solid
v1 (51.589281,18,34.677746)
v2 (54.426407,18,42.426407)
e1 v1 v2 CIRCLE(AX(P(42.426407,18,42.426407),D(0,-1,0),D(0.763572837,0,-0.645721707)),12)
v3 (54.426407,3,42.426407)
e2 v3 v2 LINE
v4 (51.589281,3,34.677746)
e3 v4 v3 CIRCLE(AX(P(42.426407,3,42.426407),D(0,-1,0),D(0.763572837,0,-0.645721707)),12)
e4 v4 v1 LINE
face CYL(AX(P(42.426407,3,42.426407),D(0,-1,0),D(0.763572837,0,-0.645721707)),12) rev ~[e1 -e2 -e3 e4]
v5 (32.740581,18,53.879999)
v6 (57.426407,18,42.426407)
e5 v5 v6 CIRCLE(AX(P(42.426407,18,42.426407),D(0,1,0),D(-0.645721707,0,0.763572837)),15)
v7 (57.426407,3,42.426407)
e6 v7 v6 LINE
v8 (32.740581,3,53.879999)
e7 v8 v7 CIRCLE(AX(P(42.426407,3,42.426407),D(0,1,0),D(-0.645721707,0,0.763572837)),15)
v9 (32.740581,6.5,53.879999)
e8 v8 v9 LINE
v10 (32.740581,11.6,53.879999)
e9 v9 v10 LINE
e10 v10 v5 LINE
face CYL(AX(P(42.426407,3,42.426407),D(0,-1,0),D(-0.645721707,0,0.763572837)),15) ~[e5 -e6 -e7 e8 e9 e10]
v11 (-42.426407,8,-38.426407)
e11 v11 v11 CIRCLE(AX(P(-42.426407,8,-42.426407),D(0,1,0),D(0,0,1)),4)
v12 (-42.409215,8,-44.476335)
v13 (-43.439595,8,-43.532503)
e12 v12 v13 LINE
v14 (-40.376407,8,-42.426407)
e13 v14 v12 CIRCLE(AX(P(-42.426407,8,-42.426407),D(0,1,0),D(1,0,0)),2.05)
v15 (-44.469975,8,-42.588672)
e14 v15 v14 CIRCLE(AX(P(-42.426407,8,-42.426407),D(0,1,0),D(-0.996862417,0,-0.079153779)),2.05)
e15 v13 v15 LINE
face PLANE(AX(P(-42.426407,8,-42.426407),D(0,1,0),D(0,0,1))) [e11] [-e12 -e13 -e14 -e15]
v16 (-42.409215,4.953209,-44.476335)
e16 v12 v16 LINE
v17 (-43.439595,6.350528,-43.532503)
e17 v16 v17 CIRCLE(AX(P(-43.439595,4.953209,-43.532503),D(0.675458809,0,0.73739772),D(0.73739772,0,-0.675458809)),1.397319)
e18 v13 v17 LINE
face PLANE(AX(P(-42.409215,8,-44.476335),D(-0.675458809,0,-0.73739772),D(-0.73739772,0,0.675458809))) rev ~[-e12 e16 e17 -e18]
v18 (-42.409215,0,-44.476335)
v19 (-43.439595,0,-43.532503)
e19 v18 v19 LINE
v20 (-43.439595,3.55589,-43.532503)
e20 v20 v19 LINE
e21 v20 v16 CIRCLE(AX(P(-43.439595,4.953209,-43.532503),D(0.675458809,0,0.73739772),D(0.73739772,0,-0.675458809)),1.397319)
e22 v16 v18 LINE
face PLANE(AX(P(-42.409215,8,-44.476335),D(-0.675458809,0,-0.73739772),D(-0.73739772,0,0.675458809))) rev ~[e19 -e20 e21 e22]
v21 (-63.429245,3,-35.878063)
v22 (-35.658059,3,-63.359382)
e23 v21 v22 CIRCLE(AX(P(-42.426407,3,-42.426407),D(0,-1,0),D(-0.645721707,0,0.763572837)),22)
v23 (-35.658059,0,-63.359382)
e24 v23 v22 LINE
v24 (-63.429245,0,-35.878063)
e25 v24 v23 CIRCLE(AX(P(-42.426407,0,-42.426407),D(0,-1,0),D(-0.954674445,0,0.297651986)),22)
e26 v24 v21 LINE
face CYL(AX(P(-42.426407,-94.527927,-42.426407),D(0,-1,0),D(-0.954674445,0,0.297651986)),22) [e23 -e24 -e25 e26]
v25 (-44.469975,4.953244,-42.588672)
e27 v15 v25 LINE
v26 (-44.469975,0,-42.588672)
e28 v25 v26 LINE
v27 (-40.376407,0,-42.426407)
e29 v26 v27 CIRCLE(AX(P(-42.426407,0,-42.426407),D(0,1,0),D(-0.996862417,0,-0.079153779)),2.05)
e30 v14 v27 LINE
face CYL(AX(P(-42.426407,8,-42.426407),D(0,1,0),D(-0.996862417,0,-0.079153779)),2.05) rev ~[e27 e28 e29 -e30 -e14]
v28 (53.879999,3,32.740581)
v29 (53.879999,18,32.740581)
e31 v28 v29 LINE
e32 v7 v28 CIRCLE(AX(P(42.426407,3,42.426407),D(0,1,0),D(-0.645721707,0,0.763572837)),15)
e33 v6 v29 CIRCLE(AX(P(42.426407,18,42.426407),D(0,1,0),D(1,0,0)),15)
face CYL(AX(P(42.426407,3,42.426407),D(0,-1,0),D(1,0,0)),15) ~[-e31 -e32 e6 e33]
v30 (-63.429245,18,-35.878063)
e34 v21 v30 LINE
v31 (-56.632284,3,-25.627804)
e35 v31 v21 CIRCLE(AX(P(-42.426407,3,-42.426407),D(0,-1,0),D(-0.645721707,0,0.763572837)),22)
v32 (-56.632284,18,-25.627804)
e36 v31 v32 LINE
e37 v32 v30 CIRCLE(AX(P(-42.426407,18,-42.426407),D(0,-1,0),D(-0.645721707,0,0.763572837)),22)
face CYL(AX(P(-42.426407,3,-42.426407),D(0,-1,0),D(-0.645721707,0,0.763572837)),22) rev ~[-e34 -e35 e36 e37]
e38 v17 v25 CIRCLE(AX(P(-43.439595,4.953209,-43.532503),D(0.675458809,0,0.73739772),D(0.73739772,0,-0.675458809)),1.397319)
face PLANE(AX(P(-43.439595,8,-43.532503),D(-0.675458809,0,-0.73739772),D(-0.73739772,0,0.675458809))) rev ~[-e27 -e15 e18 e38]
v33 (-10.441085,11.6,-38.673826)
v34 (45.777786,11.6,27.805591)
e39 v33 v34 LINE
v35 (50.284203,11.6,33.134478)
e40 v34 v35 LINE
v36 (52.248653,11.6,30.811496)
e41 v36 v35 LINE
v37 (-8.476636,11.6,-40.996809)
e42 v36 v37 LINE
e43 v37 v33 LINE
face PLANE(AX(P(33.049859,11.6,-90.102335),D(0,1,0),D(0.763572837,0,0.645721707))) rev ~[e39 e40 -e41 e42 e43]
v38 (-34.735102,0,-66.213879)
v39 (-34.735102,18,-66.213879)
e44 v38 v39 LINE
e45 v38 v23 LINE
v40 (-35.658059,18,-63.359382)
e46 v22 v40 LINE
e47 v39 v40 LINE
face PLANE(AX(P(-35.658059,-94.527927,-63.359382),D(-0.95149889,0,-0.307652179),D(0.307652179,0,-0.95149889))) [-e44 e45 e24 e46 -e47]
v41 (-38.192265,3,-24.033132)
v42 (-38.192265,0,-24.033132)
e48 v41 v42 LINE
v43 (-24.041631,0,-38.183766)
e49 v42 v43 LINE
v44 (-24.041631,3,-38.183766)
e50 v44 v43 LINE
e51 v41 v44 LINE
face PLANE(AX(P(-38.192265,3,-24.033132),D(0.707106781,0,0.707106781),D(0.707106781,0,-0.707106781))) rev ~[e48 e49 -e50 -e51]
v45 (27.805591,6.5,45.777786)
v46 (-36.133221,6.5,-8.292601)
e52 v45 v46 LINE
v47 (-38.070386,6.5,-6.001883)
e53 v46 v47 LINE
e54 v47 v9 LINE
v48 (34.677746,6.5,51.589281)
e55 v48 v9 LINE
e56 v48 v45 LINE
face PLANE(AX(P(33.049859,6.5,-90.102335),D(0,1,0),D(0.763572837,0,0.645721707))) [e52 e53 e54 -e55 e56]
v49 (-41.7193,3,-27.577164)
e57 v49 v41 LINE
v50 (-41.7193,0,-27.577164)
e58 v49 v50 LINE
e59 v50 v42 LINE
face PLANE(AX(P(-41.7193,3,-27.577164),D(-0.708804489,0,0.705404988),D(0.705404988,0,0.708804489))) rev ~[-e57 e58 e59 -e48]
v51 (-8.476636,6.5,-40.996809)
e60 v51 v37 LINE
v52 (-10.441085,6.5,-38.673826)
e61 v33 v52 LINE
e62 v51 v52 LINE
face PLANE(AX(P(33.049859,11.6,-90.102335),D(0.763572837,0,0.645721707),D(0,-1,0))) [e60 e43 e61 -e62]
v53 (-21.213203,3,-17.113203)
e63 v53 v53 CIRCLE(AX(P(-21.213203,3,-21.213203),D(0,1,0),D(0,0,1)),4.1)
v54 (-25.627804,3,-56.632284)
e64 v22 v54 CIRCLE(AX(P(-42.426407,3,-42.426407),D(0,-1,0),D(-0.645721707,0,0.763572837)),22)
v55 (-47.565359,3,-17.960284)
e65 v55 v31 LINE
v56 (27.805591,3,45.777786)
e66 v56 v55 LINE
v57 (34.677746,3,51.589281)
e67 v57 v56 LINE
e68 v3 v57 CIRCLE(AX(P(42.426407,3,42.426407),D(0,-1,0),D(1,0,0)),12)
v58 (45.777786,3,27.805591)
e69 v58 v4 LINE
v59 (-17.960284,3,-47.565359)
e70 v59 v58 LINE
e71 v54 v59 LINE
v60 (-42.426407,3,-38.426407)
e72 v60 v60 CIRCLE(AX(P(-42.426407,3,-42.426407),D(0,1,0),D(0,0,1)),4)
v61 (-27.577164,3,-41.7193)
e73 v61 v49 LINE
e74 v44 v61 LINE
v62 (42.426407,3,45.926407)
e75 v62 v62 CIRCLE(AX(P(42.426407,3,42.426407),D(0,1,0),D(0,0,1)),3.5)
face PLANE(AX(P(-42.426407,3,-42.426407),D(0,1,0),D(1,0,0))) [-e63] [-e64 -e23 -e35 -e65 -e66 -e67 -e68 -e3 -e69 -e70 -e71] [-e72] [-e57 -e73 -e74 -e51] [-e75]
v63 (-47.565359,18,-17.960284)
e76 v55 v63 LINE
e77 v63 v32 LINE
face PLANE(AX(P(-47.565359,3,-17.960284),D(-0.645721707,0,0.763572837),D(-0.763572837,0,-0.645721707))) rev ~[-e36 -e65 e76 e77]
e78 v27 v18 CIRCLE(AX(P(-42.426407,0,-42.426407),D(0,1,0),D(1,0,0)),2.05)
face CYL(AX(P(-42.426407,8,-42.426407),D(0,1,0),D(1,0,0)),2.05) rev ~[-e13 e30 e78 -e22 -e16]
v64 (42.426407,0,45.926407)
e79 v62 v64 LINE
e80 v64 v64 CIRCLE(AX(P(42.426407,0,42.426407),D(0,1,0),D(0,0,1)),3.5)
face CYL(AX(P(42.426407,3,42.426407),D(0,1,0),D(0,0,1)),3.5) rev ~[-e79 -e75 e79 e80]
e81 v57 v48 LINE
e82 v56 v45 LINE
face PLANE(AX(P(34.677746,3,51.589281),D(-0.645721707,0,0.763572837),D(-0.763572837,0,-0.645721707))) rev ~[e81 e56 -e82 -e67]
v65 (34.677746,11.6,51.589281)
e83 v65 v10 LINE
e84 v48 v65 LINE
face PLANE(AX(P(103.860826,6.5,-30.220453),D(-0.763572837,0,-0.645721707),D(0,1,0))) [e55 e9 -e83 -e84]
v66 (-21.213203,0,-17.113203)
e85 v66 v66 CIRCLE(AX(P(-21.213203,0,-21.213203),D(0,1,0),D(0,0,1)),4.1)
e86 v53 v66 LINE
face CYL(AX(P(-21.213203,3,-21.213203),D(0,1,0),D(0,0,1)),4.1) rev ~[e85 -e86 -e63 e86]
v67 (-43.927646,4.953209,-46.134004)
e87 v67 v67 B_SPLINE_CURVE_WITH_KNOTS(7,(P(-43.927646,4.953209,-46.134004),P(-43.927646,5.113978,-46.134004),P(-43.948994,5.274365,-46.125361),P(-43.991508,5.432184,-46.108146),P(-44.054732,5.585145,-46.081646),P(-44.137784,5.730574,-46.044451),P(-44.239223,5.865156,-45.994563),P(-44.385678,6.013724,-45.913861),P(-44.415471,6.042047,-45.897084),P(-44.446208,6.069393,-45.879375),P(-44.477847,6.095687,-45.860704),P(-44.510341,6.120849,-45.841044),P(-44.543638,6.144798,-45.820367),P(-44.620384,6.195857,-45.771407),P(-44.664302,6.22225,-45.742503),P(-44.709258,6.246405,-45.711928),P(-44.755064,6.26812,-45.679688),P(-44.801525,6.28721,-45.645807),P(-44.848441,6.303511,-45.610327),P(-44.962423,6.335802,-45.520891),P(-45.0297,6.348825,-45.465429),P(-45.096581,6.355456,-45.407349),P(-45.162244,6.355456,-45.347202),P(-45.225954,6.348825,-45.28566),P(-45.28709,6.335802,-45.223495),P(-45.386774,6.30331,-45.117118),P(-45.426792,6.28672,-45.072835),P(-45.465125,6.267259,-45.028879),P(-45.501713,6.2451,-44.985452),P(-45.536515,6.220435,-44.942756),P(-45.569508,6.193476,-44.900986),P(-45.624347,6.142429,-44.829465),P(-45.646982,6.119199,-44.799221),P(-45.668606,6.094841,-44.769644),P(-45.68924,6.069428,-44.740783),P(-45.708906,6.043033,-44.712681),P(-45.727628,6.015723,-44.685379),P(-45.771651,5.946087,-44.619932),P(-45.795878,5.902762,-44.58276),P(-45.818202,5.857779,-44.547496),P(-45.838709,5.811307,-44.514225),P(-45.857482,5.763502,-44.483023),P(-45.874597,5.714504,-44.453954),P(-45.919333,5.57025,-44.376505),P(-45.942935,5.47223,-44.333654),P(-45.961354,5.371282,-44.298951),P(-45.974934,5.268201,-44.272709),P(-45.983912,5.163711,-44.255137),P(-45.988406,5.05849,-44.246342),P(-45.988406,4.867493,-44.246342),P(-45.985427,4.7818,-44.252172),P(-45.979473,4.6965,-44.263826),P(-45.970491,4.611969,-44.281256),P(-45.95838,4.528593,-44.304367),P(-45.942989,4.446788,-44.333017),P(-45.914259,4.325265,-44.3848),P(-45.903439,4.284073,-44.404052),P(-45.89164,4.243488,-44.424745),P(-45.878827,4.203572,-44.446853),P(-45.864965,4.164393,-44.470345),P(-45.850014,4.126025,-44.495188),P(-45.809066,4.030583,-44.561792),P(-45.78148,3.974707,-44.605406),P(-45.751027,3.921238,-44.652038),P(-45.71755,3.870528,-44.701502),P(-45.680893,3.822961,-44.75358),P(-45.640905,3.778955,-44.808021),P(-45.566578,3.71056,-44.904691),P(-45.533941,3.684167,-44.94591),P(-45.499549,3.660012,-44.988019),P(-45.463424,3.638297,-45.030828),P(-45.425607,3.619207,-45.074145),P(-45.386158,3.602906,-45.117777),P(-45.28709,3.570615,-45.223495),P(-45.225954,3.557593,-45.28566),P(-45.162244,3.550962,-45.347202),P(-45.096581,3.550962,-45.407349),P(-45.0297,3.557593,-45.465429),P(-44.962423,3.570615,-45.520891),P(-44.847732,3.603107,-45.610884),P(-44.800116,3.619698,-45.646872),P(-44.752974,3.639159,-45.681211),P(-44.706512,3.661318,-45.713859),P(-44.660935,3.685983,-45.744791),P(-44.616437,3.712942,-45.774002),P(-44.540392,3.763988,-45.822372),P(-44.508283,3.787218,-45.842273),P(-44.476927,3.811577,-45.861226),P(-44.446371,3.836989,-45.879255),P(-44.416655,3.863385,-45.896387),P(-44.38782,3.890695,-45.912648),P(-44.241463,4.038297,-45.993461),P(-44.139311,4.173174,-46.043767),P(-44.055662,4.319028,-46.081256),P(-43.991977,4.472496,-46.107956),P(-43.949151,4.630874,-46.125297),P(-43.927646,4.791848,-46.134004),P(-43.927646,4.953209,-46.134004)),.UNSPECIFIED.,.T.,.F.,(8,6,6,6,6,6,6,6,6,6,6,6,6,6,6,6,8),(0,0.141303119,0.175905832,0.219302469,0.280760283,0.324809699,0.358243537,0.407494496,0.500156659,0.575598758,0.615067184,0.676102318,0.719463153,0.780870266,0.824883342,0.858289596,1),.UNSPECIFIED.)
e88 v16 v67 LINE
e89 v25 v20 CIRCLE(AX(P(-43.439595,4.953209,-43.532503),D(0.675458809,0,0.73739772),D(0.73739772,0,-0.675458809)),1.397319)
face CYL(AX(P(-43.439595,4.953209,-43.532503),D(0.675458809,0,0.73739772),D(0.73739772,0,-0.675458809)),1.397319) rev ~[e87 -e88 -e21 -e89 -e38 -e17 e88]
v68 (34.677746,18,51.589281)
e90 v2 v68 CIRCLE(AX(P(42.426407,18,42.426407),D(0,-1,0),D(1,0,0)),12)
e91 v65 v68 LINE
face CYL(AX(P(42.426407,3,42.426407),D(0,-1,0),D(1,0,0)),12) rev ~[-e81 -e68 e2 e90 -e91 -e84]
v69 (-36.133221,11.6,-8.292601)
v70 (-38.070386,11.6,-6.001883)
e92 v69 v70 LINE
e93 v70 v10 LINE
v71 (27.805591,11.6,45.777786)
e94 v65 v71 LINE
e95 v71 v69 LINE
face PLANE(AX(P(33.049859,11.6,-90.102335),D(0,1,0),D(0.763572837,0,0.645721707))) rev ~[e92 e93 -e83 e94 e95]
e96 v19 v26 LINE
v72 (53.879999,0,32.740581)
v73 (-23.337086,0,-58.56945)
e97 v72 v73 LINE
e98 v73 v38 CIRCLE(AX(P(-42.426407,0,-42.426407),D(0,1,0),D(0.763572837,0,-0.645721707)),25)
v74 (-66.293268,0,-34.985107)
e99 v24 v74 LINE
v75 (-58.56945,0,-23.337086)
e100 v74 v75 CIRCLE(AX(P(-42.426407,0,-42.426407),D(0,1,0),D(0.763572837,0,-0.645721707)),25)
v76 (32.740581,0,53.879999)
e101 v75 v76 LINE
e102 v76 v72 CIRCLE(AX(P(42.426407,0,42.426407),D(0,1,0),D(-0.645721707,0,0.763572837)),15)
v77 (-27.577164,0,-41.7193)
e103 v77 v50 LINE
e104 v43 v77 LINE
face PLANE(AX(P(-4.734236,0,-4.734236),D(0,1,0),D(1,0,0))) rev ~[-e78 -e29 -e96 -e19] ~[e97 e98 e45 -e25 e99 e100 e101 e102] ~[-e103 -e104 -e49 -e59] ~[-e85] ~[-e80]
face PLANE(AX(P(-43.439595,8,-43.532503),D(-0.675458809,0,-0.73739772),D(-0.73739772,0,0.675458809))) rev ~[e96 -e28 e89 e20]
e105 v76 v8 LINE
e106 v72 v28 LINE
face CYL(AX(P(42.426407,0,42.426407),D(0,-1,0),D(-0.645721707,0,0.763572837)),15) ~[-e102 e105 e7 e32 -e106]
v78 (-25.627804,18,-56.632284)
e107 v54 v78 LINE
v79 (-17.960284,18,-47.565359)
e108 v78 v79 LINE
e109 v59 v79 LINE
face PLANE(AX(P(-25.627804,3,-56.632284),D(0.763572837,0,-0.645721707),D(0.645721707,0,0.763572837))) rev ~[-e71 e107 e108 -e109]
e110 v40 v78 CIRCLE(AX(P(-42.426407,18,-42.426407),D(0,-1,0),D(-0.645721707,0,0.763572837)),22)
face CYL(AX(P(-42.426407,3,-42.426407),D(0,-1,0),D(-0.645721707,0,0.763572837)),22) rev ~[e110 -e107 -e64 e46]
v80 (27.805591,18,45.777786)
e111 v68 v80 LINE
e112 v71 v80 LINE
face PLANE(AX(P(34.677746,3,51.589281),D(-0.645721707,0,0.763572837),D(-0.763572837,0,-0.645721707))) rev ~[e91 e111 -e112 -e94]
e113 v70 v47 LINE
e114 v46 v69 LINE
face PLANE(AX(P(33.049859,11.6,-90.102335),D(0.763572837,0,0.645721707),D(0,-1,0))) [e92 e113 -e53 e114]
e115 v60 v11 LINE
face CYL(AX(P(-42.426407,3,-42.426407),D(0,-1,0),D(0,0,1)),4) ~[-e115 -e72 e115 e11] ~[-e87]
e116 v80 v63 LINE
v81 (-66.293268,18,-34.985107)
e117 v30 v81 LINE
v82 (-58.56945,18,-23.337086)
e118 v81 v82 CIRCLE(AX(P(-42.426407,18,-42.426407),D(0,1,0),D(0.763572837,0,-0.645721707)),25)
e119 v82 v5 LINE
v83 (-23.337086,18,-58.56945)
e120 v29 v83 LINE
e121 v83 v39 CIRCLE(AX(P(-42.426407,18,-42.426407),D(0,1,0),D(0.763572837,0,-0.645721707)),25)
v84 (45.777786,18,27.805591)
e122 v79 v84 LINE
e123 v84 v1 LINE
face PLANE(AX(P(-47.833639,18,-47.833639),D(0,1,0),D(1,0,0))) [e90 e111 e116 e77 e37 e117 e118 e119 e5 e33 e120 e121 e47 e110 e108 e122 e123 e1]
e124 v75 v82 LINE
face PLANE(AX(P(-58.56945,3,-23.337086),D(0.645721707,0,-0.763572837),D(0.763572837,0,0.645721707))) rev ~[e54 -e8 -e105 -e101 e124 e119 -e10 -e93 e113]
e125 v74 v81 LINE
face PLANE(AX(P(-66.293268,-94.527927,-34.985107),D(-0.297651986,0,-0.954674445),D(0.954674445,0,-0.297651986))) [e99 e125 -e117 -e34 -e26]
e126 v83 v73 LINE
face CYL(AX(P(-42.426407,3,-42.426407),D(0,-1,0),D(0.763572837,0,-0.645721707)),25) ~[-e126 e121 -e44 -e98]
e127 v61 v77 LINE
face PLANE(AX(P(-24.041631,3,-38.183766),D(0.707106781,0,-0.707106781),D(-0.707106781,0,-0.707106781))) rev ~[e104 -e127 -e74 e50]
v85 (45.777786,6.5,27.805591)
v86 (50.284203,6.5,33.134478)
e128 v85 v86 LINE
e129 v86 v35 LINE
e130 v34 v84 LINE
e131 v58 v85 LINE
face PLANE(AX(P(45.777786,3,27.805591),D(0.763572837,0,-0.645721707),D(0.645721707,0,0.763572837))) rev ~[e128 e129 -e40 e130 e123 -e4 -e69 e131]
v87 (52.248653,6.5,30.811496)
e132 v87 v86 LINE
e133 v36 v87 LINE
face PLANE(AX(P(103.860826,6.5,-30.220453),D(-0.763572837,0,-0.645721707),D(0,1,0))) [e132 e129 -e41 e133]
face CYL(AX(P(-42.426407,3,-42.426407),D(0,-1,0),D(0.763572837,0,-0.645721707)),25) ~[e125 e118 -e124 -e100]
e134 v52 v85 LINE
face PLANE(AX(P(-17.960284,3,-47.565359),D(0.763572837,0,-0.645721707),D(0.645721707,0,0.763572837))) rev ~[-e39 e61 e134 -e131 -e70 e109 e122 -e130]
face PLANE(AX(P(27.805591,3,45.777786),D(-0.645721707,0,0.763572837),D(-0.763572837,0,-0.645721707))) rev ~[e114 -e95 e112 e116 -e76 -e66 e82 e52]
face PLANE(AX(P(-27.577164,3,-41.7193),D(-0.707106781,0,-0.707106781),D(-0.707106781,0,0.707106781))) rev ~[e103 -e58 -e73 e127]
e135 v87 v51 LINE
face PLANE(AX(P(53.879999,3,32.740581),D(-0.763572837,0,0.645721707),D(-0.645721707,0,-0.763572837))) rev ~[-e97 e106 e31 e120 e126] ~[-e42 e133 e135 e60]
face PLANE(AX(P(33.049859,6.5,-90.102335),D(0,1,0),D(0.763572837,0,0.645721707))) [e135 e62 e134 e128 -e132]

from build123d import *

# Parameters (mm, degrees)
EXTRUDE_2_DEPTH           = 3
SKETCH_4_R                = 2.25
SKETCH_4_R_2              = 2.5
CUT_EXTRUDE_2_DEPTH       = 96.402519291
SKETCH_6_R                = 3.5
CUT_EXTRUDE_3_DEPTH       = 96.402519291
SKETCH_7_R                = 3.5
CUT_EXTRUDE_4_DEPTH       = 96.402519291
CUT_EXTRUDE_5_DEPTH       = 96.402519291
EXTRUDE_4_DEPTH           = 15
EXTRUDE_5_DEPTH           = 3
SKETCH_11_R               = 4.1
CUT_EXTRUDE_6_DEPTH       = 3
SKETCH_13_R               = 3.5
EXTRUDE_6_DEPTH           = 3
SKETCH_14_R               = 2.05
EXTRUDE_7_DEPTH           = 5
EXTRUDE_START             = -5
SKETCH_15_R               = 4
SKETCH_15_R_2             = 2.05
EXTRUDE_8_DEPTH           = 5
CUT_EXTRUDE_7_DEPTH       = 96.878259721
SKETCH_18_R               = 1.397318861
CUT_EXTRUDE_8_DEPTH       = 144.753442506
CUT_EXTRUDE_9_DEPTH       = 97.527927136
CUT_EXTRUDE_9_DEPTH_BACK  = 97.527927136
CUT_EXTRUDE_11_DEPTH      = 110.140706759
CUT_EXTRUDE_11_DEPTH_BACK = 110.140706759
SKETCH_20_W               = 92.736362136
SKETCH_20_H               = 2.6
SKETCH_20_H_2             = 2.5
CUT_EXTRUDE_12_DEPTH      = 5


with BuildPart() as part:
    # 草图2 → 凸台-拉伸2 (new body)
    with BuildSketch(Plane(origin=(0, 0, 0), x_dir=(1, 0, 0), z_dir=(0, 1, 0))):
        with BuildLine():
            Line((-58.569449541, 23.337085947), (32.740581269, -53.879999426))
            ThreePointArc((32.740581269, -53.879999426), (53.033008589, -53.033008589), (53.879999426, -32.740581269))
            Line((53.879999426, -32.740581269), (-23.337085947, 58.569449541))
            ThreePointArc((-23.337085947, 58.569449541), (-60.104076401, 60.104076401), (-58.569449541, 23.337085947))
        make_face()
    extrude(amount=EXTRUDE_2_DEPTH)

    # 草图4 → 切除-拉伸2 (cut, through all)
    with BuildSketch(Plane(origin=(0, 3, 0), x_dir=(1, 0, 0), z_dir=(0, 1, 0))):
        with Locations(Location((-42.426406871, 42.426406871, 0), (0, 0, 270))):
            Circle(SKETCH_4_R)
        with Locations(Location((42.426406871, -42.426406871, 0), (0, 0, 270))):
            Circle(SKETCH_4_R_2)
    extrude(amount=-CUT_EXTRUDE_2_DEPTH, mode=Mode.SUBTRACT)

    # 草图6 → 切除-拉伸3 (cut, through all)
    with BuildSketch(Plane(origin=(0, 3, 0), x_dir=(1, 0, 0), z_dir=(0, 1, 0))):
        with Locations(Location((-42.426406871, 42.426406871, 0), (0, 0, 270))):
            Circle(SKETCH_6_R)
    extrude(amount=-CUT_EXTRUDE_3_DEPTH, mode=Mode.SUBTRACT)

    # 草图7 → 切除-拉伸4 (cut, through all)
    with BuildSketch(Plane(origin=(0, 3, 0), x_dir=(1, 0, 0), z_dir=(0, 1, 0))):
        with Locations(Location((42.426406871, -42.426406871, 0), (0, 0, 270))):
            Circle(SKETCH_7_R)
    extrude(amount=-CUT_EXTRUDE_4_DEPTH, mode=Mode.SUBTRACT)

    # 草图8 → 切除-拉伸5 (cut, through all)
    with BuildSketch(Plane(origin=(0, 3, 0), x_dir=(1, 0, 0), z_dir=(0, 1, 0))):
        Polygon((33.626672858, -22.564710472), (-15.702999665, 25.870376375), (-26.891422763, 12.98046534), (25.218843822, -32.251166492), align=None)
    extrude(amount=-CUT_EXTRUDE_5_DEPTH, mode=Mode.SUBTRACT)

    # 草图9 → 凸台-拉伸4 (add)
    with BuildSketch(Plane(origin=(0, 3, 0), x_dir=(1, 0, 0), z_dir=(0, 1, 0))):
        with BuildLine():
            ThreePointArc((-17.960284018, 47.565359346), (-19.96440182, 53.401757848), (-23.337085947, 58.569449541))
            ThreePointArc((-23.337085947, 58.569449541), (-60.104076401, 60.104076401), (-58.569449541, 23.337085947))
            ThreePointArc((-58.569449541, 23.337085947), (-53.401757848, 19.96440182), (-47.565359346, 17.960284018))
            Line((-47.565359346, 17.960284018), (-56.632284421, 25.627804458))
            ThreePointArc((-56.632284421, 25.627804458), (-57.982756057, 57.982756057), (-25.627804458, 56.632284421))
            Line((-25.627804458, 56.632284421), (-17.960284018, 47.565359346))
        make_face()
        with BuildLine():
            Line((53.879999426, -32.740581269), (-23.337085947, 58.569449541))
            ThreePointArc((-23.337085947, 58.569449541), (-19.96440182, 53.401757848), (-17.960284018, 47.565359346))
            Line((-17.960284018, 47.565359346), (45.777785554, -27.805590857))
            ThreePointArc((45.777785554, -27.805590857), (50.229311839, -29.615681908), (53.879999426, -32.740581269))
        make_face()
        with BuildLine():
            ThreePointArc((-47.565359346, 17.960284018), (-53.401757848, 19.96440182), (-58.569449541, 23.337085947))
            Line((-58.569449541, 23.337085947), (32.740581269, -53.879999426))
            ThreePointArc((32.740581269, -53.879999426), (29.615681908, -50.229311839), (27.805590857, -45.777785554))
            Line((27.805590857, -45.777785554), (-47.565359346, 17.960284018))
        make_face()
        with BuildLine():
            ThreePointArc((57.426406871, -42.426406871), (56.511929373, -37.26907657), (53.879999426, -32.740581269))
            ThreePointArc((53.879999426, -32.740581269), (50.229311839, -29.615681908), (45.777785554, -27.805590857))
            Line((45.777785554, -27.805590857), (51.589280915, -34.67774639))
            ThreePointArc((51.589280915, -34.67774639), (53.694824873, -38.30054263), (54.426406871, -42.426406871))
            ThreePointArc((54.426406871, -42.426406871), (47.47695507, -53.311808237), (34.67774639, -51.589280915))
            Line((34.67774639, -51.589280915), (27.805590857, -45.777785554))
            ThreePointArc((27.805590857, -45.777785554), (29.615681908, -50.229311839), (32.740581269, -53.879999426))
            ThreePointArc((32.740581269, -53.879999426), (48.73959212, -56.033158578), (57.426406871, -42.426406871))
        make_face()
    extrude(amount=EXTRUDE_4_DEPTH)

    # 草图10 → 凸台-拉伸5 (add)
    with BuildSketch(Plane(origin=(0, 3, 0), x_dir=(1, 0, 0), z_dir=(0, 1, 0))):
        Polygon((10.528753113, -10.528753113), (-20.427450775, 20.427450775), (-26.891422763, 12.98046534), (25.218843822, -32.251166492), (28.486536718, -28.486536718), align=None)
        Polygon((-15.702999665, 25.870376375), (-20.427450775, 20.427450775), (10.528753113, -10.528753113), (28.486536718, -28.486536718), (33.626672858, -22.564710472), align=None)
    extrude(amount=-EXTRUDE_5_DEPTH)

    # 草图11 → 切除-拉伸6 (cut)
    with BuildSketch(Plane(origin=(0, 3, 0), x_dir=(1, 0, 0), z_dir=(0, 1, 0))):
        with Locations(Location((-21.213203436, 21.213203436, 0), (0, 0, 270))):
            Circle(SKETCH_11_R)
    extrude(amount=-CUT_EXTRUDE_6_DEPTH, mode=Mode.SUBTRACT)

    # 草图13 → 凸台-拉伸6 (add)
    with BuildSketch(Plane(origin=(0, 3, 0), x_dir=(1, 0, 0), z_dir=(0, 1, 0))):
        with Locations((-42.426406871, 42.426406871)):
            Circle(SKETCH_13_R)
    extrude(amount=-EXTRUDE_6_DEPTH)

    # 草图14 → 凸台-拉伸7 (add)
    with BuildSketch(Plane(origin=(0, 3, 0), x_dir=(1, 0, 0), z_dir=(0, 1, 0))):
        with Locations(Location((-42.426406871, 42.426406871, 0), (0, 0, 270))):
            Circle(SKETCH_14_R)
    extrude(amount=EXTRUDE_7_DEPTH)

    # 草图15 → 凸台-拉伸8 (add)
    with BuildSketch(Plane(origin=(0, 8, 0), x_dir=(1, 0, 0), z_dir=(0, 1, 0)).offset(EXTRUDE_START)):
        with Locations(Location((-42.426406871, 42.426406871, 0), (0, 0, 270))):
            Circle(SKETCH_15_R)
        with Locations((-42.426406871, 42.426406871)):
            Circle(SKETCH_15_R_2, mode=Mode.SUBTRACT)
    extrude(amount=EXTRUDE_8_DEPTH)

    # 草图17 → 切除-拉伸7 (cut, through all)
    with BuildSketch(Plane(origin=(0, 8, 0), x_dir=(1, 0, 0), z_dir=(0, 1, 0))):
        with BuildLine():
            Line((-42.409215342, 44.476334785), (-43.439595085, 43.532503451))
            Line((-43.439595085, 43.532503451), (-44.469974827, 42.588672118))
            ThreePointArc((-44.469974827, 42.588672118), (-42.507603209, 40.378015513), (-40.376406871, 42.426406871))
            ThreePointArc((-40.376406871, 42.426406871), (-40.970772536, 43.869884853), (-42.409215342, 44.476334785))
        make_face()
    extrude(amount=-CUT_EXTRUDE_7_DEPTH, mode=Mode.SUBTRACT)

    # 草图18 → 切除-拉伸8 (cut, through all)
    with BuildSketch(Plane(origin=(-41.501827845, 0, -45.307504805), x_dir=(0.7373977200215518, 0, -0.6754588088899406), z_dir=(0.6754588088899406, 0, 0.7373977200215518))):
        with Locations((-2.627845445, 4.953208644)):
            Circle(SKETCH_18_R)
    extrude(amount=-CUT_EXTRUDE_8_DEPTH, mode=Mode.SUBTRACT)

    # 草图19 → 切除-拉伸9 (cut, two sides: drawn at the far end of the back side and taken through both)
    with BuildSketch(Plane(origin=(0, 3, 0), x_dir=(1, 0, 0), z_dir=(0, 1, 0)).offset(-CUT_EXTRUDE_9_DEPTH_BACK)):
        with BuildLine():
            Line((-66.29326799, 34.985107232), (-63.429244656, 35.878063189))
            ThreePointArc((-63.429244656, 35.878063189), (-57.900931168, 58.064152802), (-35.65805893, 63.35938244))
            Line((-35.65805893, 63.35938244), (-34.735102393, 66.213879108))
            ThreePointArc((-34.735102393, 66.213879108), (-60.011093572, 60.196572701), (-66.29326799, 34.985107232))
        make_face()
    extrude(amount=CUT_EXTRUDE_9_DEPTH + CUT_EXTRUDE_9_DEPTH_BACK, mode=Mode.SUBTRACT)

    # 草图20 → 切除-拉伸11 (cut, two sides: drawn at the far end of the back side and taken through both)
    with BuildSketch(Plane(origin=(-12.914434136, 0, 15.27145674), x_dir=(0.7635728369858691, 0, 0.6457217067881111), z_dir=(-0.6457217067881111, 0, 0.7635728369858691)).offset(-CUT_EXTRUDE_11_DEPTH_BACK)):
        with Locations((13.423122648, 10.3)):
            Rectangle(SKETCH_20_W, SKETCH_20_H)
        with Locations((13.423122648, 7.75)):
            Rectangle(SKETCH_20_W, SKETCH_20_H_2)
    extrude(amount=CUT_EXTRUDE_11_DEPTH + CUT_EXTRUDE_11_DEPTH_BACK, mode=Mode.SUBTRACT)

    # 草图23 → 切除-拉伸12 (cut)
    with BuildSketch(Plane(origin=(0, 3, 0), x_dir=(1, 0, 0), z_dir=(0, 1, 0))):
        Polygon((-34.648232278, 34.648232278), (-31.112698372, 31.112698372), (-24.04163056, 38.183766184), (-27.577164466, 41.71930009), align=None)
        Polygon((-38.192264962, 24.033131782), (-31.112698372, 31.112698372), (-34.648232278, 34.648232278), (-41.71930009, 27.577164466), align=None)
    extrude(amount=-CUT_EXTRUDE_12_DEPTH, mode=Mode.SUBTRACT)


solid = part.part
